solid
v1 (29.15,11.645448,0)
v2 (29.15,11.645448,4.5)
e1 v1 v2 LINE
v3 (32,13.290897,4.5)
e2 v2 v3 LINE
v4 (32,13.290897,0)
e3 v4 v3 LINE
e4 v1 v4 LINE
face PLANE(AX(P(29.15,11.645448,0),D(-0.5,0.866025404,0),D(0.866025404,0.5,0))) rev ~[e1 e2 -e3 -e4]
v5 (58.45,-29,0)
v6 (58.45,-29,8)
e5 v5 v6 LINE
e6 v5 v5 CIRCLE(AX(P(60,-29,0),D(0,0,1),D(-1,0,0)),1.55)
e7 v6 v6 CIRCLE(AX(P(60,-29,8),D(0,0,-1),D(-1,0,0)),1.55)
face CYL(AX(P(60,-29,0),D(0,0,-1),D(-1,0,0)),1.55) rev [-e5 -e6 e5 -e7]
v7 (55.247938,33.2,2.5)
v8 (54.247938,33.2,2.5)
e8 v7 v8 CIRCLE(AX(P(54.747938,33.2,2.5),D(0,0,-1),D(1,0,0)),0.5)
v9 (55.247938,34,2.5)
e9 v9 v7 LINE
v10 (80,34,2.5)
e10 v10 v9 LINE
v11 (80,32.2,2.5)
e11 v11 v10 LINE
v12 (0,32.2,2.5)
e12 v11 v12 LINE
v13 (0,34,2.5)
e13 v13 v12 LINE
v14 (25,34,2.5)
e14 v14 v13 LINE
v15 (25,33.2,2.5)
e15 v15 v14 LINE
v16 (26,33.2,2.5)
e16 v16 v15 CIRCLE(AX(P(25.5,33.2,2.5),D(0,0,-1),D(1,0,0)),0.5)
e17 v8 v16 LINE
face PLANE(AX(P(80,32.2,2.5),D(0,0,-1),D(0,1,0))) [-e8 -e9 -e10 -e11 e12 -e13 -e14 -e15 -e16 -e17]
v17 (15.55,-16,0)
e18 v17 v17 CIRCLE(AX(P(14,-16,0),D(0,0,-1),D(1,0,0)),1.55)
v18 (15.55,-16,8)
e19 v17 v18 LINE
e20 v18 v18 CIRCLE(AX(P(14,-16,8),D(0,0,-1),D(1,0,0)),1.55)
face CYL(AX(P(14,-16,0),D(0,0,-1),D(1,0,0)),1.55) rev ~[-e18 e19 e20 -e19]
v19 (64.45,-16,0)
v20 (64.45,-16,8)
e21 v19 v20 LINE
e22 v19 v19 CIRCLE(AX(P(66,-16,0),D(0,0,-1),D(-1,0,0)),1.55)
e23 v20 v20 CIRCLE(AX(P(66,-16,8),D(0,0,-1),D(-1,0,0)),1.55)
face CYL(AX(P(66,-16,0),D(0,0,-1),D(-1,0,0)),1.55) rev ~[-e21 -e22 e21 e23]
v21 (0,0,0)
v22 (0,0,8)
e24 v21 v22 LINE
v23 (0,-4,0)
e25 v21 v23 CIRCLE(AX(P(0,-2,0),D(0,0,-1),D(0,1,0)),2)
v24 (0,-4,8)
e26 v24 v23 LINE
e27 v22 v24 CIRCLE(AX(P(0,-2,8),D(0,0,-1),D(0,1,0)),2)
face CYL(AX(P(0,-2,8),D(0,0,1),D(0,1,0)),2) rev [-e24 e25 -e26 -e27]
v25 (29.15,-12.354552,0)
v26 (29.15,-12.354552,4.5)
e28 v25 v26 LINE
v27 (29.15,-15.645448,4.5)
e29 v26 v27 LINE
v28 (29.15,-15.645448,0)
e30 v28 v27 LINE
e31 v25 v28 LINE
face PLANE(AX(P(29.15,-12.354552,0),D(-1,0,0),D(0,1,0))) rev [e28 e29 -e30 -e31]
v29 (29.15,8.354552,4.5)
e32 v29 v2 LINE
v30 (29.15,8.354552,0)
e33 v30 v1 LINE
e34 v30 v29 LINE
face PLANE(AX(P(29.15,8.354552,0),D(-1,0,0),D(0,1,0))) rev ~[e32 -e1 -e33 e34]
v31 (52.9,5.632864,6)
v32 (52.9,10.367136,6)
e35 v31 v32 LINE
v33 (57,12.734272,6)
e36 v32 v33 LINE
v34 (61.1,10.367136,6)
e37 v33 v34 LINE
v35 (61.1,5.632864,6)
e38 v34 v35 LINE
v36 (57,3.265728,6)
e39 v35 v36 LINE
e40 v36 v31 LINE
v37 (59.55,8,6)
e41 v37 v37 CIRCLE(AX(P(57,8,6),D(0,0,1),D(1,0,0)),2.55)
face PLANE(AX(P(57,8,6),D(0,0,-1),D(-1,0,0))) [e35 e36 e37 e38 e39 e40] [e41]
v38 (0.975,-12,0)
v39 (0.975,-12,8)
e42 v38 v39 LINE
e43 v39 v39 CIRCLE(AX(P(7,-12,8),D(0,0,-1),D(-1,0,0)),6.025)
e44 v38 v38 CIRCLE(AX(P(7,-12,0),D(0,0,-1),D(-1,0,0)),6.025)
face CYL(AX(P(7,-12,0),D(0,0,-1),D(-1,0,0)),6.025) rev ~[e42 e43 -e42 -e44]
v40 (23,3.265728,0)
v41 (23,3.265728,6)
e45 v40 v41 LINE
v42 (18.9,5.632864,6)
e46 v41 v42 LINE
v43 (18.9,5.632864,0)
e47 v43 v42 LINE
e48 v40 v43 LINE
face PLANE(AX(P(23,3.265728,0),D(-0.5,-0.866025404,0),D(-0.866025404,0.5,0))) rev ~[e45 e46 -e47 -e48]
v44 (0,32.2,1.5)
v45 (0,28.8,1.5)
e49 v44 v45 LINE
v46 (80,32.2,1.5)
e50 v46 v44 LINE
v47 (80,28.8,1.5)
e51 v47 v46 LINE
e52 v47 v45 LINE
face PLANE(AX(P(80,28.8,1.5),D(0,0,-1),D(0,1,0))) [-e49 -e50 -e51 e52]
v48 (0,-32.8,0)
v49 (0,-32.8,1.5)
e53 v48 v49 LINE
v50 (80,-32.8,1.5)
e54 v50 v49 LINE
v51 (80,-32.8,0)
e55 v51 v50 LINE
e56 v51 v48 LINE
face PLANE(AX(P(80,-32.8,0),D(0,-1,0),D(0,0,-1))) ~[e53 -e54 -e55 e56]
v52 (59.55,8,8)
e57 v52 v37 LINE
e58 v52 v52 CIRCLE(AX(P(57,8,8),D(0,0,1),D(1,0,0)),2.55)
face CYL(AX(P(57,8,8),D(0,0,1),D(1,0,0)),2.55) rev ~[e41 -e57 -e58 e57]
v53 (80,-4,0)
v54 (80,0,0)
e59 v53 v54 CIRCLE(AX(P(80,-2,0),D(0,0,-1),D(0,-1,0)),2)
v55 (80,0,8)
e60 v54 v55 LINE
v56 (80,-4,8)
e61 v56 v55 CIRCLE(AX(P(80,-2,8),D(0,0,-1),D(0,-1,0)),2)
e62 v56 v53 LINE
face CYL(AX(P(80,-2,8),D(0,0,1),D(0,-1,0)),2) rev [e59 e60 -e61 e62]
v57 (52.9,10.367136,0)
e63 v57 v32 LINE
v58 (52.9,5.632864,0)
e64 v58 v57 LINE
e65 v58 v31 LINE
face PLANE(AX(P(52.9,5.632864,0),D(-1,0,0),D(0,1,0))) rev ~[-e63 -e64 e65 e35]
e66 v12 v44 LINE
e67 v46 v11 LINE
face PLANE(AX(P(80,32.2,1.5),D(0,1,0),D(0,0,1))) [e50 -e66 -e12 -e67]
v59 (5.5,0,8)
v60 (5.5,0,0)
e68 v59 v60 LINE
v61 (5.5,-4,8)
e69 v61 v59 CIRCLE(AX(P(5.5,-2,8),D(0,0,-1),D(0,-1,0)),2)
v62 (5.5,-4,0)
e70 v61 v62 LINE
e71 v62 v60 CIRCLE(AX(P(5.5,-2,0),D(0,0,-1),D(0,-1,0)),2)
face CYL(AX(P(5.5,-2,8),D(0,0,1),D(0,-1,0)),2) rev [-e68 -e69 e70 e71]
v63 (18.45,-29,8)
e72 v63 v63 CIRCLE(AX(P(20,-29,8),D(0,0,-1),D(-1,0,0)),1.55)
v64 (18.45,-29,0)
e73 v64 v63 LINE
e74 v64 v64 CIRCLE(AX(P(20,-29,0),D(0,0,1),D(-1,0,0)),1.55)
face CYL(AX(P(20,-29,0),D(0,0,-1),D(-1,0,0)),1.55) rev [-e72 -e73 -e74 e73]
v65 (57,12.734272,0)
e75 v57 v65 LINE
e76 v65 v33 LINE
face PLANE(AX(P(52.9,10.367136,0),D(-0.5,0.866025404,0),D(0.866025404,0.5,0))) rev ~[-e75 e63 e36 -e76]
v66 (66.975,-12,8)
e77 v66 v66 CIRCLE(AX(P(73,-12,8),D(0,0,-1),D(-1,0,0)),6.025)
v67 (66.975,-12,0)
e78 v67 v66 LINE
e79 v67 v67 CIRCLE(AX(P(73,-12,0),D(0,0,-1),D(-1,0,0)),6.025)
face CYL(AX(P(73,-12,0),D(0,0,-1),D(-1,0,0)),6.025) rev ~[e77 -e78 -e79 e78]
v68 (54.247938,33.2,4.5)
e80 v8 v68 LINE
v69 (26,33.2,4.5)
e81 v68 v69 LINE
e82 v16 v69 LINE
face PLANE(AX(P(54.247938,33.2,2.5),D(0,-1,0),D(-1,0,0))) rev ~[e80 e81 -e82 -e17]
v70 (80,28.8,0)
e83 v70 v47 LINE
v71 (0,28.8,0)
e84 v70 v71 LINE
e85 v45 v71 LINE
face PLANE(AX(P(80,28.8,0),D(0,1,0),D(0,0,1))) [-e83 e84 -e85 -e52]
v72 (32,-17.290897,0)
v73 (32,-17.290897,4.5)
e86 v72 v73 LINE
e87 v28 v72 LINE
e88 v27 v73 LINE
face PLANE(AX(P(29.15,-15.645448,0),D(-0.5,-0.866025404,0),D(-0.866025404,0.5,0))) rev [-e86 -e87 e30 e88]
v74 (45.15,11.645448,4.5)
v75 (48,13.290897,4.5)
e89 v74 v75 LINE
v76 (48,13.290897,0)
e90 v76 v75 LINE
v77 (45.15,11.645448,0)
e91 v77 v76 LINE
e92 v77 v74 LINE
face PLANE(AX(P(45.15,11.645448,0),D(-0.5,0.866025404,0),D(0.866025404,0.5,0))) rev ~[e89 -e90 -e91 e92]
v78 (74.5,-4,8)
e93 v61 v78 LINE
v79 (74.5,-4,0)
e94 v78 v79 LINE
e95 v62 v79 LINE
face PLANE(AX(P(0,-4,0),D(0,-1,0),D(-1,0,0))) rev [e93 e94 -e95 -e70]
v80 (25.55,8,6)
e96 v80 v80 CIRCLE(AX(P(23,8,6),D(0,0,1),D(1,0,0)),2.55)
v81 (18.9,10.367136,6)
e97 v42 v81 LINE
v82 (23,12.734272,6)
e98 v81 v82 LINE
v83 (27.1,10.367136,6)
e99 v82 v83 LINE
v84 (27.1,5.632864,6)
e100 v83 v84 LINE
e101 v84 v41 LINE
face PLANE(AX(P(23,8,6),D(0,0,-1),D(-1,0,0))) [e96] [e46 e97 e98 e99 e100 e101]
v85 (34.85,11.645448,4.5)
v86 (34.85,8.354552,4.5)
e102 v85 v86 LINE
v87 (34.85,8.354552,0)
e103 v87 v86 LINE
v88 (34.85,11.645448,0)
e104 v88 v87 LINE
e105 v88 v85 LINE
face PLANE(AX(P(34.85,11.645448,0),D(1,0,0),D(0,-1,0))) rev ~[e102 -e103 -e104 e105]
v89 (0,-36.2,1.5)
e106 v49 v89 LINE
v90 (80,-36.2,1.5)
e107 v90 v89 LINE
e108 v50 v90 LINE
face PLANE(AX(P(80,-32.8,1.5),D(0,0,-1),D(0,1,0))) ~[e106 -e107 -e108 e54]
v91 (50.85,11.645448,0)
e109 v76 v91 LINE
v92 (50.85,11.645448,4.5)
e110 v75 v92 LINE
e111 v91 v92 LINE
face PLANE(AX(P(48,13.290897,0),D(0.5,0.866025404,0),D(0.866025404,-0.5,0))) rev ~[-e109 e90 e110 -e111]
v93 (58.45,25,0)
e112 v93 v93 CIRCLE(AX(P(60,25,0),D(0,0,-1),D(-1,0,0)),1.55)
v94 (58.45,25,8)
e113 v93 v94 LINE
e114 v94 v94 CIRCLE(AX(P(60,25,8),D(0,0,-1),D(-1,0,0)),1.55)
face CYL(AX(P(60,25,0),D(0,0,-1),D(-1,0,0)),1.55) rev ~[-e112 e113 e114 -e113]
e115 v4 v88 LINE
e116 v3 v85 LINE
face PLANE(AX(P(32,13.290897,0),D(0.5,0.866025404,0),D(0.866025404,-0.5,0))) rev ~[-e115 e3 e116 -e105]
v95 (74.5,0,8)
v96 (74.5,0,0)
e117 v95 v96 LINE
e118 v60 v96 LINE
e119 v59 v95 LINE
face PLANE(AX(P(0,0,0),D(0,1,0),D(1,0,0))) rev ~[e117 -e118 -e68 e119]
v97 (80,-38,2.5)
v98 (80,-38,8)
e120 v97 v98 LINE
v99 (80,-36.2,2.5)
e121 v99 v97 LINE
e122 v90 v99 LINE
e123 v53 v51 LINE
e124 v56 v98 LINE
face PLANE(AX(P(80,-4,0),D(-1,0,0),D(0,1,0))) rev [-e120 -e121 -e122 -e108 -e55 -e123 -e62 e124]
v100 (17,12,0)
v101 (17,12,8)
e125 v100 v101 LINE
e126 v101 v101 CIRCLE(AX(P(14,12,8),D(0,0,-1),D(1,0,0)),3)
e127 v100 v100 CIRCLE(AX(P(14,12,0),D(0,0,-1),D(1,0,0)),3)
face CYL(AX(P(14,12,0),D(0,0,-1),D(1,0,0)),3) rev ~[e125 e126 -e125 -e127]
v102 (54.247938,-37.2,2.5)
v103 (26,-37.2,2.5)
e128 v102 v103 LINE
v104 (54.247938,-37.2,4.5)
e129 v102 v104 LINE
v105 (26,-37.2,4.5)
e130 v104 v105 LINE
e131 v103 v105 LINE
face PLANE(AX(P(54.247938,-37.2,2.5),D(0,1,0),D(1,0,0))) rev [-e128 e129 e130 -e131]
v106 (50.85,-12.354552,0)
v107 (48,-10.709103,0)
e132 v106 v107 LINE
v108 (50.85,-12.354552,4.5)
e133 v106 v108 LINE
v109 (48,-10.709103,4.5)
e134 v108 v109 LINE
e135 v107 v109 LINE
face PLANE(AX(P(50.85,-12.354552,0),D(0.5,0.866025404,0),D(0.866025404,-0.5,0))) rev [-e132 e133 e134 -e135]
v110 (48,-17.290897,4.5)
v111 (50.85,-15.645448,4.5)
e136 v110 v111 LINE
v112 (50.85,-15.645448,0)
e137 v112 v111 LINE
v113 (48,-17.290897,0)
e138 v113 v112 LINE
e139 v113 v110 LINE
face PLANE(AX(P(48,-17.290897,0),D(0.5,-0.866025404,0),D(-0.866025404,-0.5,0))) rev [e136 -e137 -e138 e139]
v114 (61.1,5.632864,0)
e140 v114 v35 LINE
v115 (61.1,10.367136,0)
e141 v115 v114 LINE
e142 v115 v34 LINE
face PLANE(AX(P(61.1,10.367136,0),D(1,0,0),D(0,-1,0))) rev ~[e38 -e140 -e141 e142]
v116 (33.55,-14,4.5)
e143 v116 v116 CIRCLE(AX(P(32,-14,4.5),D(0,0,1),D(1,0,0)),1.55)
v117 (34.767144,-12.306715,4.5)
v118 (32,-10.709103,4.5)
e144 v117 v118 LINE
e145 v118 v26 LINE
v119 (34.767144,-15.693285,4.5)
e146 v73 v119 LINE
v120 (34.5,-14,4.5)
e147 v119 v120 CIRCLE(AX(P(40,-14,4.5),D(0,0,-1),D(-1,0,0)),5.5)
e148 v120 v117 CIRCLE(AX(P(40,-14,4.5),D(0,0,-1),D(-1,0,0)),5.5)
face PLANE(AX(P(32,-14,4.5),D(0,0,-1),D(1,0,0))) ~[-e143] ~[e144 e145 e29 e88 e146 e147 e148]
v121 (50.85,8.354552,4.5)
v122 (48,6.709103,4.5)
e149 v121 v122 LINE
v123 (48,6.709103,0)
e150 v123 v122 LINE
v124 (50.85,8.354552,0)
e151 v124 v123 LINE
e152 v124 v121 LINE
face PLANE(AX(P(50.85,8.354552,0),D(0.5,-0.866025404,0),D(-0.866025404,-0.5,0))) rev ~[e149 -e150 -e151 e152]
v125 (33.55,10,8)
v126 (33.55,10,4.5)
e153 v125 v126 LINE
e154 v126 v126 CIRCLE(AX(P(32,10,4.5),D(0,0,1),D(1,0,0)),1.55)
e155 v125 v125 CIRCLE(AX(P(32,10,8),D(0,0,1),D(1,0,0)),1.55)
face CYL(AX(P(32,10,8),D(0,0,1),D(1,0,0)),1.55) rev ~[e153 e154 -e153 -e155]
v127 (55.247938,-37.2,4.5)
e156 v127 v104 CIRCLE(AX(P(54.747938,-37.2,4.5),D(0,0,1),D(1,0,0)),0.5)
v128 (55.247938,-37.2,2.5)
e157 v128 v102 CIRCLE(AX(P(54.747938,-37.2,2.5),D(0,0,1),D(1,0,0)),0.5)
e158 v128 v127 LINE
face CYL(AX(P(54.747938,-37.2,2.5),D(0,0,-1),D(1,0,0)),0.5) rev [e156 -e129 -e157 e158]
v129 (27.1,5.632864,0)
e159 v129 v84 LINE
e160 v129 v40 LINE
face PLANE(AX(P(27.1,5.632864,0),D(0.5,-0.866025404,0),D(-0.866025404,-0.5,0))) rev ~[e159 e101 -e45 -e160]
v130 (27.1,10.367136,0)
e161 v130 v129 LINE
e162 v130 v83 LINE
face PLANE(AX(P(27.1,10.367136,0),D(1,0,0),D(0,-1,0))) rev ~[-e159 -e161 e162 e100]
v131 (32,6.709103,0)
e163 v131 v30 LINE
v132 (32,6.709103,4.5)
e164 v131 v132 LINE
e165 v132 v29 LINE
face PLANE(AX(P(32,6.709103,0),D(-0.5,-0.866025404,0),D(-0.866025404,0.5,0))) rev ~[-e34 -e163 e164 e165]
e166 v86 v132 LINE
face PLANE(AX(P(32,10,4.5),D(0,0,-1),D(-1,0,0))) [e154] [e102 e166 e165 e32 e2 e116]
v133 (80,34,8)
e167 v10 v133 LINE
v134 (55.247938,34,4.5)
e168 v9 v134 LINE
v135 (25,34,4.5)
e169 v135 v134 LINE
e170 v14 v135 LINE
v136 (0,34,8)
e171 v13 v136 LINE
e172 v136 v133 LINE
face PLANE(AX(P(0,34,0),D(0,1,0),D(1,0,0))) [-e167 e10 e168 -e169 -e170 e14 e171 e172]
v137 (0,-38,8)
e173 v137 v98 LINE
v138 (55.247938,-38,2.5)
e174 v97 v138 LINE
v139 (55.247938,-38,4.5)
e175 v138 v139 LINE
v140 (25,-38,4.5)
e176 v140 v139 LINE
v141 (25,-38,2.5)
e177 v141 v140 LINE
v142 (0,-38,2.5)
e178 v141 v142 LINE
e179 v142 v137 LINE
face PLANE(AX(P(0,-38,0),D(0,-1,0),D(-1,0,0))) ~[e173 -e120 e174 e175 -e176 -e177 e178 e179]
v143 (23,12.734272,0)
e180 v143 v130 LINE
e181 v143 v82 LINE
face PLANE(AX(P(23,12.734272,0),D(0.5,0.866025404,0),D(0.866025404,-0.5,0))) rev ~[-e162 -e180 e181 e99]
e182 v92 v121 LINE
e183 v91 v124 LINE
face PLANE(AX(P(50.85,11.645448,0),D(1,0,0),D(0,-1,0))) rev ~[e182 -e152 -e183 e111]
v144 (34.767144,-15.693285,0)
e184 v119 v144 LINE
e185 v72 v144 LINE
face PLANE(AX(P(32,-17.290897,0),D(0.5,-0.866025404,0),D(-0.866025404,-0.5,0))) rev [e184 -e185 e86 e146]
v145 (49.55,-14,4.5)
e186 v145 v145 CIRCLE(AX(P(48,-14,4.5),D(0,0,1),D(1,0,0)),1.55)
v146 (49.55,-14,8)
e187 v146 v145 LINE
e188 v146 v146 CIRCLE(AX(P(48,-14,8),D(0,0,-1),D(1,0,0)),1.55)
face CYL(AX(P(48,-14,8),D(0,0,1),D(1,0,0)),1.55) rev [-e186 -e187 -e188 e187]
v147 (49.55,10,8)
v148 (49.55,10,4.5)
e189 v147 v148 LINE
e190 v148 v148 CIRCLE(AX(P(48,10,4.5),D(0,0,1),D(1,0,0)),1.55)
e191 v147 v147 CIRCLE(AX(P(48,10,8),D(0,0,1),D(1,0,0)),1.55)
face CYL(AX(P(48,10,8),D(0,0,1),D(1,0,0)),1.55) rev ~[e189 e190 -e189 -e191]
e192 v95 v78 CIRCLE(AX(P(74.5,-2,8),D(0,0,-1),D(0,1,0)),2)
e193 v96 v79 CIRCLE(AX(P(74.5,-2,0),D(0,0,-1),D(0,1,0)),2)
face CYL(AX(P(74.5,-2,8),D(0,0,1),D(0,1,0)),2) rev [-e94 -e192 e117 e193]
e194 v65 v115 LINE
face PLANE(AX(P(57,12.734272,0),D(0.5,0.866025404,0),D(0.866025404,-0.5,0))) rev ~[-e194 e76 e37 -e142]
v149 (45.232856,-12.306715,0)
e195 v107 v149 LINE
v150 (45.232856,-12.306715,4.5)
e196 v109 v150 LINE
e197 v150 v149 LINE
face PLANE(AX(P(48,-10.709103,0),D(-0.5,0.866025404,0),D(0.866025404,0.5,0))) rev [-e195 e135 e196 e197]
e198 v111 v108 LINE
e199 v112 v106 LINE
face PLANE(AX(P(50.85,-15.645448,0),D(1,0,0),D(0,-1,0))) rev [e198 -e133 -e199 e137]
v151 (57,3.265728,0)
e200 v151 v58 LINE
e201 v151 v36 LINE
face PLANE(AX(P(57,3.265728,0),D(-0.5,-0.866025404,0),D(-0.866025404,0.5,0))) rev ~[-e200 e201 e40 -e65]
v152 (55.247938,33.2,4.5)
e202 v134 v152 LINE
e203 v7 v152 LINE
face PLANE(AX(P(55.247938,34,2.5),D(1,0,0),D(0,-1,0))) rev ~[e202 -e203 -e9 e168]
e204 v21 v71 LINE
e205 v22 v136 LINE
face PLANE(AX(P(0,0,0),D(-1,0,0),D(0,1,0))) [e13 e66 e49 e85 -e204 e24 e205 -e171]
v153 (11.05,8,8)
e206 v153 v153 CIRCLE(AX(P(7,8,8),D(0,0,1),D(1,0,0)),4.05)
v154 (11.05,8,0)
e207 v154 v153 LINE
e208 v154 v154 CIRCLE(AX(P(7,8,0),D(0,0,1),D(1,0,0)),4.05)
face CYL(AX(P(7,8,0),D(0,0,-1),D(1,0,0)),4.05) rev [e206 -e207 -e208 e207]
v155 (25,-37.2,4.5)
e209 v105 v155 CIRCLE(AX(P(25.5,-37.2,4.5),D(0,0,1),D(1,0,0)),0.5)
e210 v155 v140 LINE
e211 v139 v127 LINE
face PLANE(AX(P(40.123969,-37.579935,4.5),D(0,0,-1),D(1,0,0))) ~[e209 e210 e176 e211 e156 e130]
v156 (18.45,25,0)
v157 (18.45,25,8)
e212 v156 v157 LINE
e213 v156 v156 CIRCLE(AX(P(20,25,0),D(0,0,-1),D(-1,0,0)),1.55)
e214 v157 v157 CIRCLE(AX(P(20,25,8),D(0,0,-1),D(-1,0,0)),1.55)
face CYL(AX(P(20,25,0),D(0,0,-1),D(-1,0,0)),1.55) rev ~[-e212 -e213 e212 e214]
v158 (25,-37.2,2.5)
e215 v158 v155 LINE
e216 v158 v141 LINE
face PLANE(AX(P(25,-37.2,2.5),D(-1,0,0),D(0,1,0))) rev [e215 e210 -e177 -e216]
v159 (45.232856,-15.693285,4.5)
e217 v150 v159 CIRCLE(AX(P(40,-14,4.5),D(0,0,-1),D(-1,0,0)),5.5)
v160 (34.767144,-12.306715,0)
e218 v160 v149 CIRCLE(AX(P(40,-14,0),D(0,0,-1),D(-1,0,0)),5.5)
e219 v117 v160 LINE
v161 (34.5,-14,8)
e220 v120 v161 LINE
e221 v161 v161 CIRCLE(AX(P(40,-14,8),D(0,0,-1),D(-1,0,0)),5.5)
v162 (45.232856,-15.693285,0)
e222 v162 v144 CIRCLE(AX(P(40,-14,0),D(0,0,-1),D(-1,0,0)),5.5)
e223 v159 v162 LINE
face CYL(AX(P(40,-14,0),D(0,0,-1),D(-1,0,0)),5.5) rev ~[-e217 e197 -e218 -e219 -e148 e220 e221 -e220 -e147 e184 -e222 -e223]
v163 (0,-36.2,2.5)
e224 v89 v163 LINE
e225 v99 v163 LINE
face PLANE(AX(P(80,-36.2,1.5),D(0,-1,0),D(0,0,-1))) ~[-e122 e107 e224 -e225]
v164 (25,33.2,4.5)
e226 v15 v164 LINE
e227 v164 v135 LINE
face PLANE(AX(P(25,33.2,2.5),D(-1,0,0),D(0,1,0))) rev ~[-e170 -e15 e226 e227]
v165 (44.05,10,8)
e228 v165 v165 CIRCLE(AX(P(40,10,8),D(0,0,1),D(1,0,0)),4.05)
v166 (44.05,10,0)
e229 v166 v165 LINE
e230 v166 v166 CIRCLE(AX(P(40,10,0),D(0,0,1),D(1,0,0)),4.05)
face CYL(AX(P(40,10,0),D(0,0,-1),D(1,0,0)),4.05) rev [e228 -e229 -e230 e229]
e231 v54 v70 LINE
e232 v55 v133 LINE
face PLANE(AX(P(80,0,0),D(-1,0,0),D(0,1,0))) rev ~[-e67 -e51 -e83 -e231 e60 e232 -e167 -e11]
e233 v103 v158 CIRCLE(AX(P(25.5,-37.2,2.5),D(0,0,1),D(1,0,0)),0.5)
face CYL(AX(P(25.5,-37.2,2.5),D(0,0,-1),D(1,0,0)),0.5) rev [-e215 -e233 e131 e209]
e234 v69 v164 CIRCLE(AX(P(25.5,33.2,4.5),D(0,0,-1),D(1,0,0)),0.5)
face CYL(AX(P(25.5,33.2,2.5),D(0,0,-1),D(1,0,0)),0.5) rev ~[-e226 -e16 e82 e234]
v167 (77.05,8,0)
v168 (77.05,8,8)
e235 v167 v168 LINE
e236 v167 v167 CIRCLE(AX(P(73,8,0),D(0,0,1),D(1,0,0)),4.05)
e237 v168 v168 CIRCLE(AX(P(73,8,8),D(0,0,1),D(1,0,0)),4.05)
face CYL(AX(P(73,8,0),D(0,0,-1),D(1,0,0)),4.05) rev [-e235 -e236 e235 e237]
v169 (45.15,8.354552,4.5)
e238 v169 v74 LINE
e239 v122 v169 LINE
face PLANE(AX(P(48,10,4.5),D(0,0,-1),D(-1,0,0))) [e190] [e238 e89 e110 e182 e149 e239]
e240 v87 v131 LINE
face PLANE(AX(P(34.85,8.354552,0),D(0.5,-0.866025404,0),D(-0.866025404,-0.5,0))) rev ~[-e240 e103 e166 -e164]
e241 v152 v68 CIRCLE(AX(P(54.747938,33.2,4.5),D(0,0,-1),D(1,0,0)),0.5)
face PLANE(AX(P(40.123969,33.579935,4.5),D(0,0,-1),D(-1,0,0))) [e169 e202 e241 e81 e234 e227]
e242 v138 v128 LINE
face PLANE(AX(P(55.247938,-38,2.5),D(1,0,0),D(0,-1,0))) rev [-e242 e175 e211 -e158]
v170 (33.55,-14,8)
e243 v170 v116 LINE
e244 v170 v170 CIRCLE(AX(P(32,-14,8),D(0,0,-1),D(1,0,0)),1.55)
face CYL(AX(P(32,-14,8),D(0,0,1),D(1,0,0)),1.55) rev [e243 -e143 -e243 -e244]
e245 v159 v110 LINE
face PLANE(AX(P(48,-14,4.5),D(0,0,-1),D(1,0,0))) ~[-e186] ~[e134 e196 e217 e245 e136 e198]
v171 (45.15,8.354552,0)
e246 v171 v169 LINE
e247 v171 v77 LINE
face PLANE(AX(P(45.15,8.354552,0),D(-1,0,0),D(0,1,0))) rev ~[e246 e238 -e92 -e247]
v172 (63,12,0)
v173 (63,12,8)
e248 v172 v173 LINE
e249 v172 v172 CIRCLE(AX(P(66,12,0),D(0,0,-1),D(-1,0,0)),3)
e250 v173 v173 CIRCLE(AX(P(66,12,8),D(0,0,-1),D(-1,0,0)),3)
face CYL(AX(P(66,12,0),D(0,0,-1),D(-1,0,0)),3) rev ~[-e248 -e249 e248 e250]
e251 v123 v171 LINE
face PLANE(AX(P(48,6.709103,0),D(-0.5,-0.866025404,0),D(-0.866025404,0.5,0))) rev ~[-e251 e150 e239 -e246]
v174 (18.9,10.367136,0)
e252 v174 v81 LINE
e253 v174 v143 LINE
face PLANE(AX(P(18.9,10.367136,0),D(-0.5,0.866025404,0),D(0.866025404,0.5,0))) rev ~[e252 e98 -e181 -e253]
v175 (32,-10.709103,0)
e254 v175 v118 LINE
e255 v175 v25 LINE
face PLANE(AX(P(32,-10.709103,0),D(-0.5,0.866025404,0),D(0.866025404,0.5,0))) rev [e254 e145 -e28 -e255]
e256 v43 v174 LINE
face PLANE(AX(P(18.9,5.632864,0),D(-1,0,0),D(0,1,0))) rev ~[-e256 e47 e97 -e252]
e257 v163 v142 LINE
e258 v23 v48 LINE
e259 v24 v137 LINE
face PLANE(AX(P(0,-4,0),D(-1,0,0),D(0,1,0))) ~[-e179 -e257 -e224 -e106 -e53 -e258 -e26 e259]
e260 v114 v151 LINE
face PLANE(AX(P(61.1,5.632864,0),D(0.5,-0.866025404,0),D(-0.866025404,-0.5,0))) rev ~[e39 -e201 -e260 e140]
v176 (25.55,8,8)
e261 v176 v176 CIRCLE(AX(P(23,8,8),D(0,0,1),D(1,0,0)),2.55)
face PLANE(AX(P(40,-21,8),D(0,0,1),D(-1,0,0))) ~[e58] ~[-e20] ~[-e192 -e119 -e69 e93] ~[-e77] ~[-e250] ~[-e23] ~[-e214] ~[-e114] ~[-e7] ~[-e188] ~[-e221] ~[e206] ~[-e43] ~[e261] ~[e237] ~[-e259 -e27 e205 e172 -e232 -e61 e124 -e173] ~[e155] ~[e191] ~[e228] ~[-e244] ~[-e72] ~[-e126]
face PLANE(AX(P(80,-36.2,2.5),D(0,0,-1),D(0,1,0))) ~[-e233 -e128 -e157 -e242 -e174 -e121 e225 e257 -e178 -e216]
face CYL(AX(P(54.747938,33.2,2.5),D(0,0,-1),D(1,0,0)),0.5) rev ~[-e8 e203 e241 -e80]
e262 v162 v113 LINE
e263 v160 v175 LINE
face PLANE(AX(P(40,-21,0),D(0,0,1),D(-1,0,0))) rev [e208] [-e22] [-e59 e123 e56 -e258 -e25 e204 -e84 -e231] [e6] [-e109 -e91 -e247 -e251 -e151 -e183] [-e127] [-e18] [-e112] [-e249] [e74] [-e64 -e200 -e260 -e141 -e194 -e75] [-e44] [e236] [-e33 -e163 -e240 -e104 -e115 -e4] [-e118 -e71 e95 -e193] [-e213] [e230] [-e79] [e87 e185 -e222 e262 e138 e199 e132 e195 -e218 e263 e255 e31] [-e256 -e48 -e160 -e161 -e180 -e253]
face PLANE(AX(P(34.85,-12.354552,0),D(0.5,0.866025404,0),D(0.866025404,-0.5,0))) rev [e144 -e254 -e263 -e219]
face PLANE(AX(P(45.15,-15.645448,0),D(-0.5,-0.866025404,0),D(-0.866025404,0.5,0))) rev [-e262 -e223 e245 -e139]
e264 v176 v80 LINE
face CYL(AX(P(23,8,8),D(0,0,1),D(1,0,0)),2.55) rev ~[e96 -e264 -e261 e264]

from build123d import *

# Parameters (mm, degrees)
SKETCH_2_W           = 80
SKETCH_2_H           = 34
SKETCH_2_R           = 4.05
EXTRUDE_1_DEPTH      = 8
SKETCH_3_R           = 2.55
CUT_EXTRUDE_1_DEPTH  = 88.292611371
CUT_EXTRUDE_2_DEPTH  = 88.292611371
SKETCH_5_R           = 1.55
CUT_EXTRUDE_3_DEPTH  = 88.292611371
CUT_EXTRUDE_5_DEPTH  = 4.5
SKETCH_25_R          = 1.55
CUT_EXTRUDE_13_DEPTH = 88.292611371
CUT_EXTRUDE_11_DEPTH = 2
EXTRUDE_2_DEPTH      = 8
SKETCH_26_R          = 6.025
CUT_EXTRUDE_14_DEPTH = 89.926936302
SKETCH_27_R          = 3
SKETCH_27_R_2        = 1.55
CUT_EXTRUDE_15_DEPTH = 89.926936302
CUT_EXTRUDE_16_DEPTH = 6
SKETCH_29_R          = 5.5
CUT_EXTRUDE_17_DEPTH = 89.926936302


with BuildPart() as part:
    # 草图2 → 凸台-拉伸1 (new body)
    with BuildSketch(Plane.XY):
        with Locations((40, 17)):
            Rectangle(SKETCH_2_W, SKETCH_2_H)
        with Locations((7, 8)):
            Circle(SKETCH_2_R, mode=Mode.SUBTRACT)
        with Locations((40, 10)):
            Circle(SKETCH_2_R, mode=Mode.SUBTRACT)
        with Locations((73, 8)):
            Circle(SKETCH_2_R, mode=Mode.SUBTRACT)
    extrude_1 = extrude(amount=EXTRUDE_1_DEPTH)

    # 草图3 → 切除-拉伸1 (cut, through all)
    with BuildSketch(Plane.XY.offset(8)):
        with Locations((23, 8)):
            Circle(SKETCH_3_R)
        with Locations((57, 8)):
            Circle(SKETCH_3_R)
    extrude(amount=-CUT_EXTRUDE_1_DEPTH, mode=Mode.SUBTRACT)

    # 草图4 → 切除-拉伸2 (cut, through all)
    with BuildSketch(Plane(origin=(80, 0, 0), x_dir=(0, 0, -1), z_dir=(1, 0, 0))):
        Polygon((-1.5, 32.2), (-2.5, 32.2), (-2.5, 34), (0, 34), (0, 28.8), (-1.5, 28.8), align=None)
    cut_extrude_2 = extrude(amount=-CUT_EXTRUDE_2_DEPTH, mode=Mode.SUBTRACT)

    # 草图5 → 切除-拉伸3 (cut, through all)
    with BuildSketch(Plane.XY.offset(8)):
        with Locations((48, 10)):
            Circle(SKETCH_5_R)
        with Locations((32, 10)):
            Circle(SKETCH_5_R)
    cut_extrude_3 = extrude(amount=-CUT_EXTRUDE_3_DEPTH, mode=Mode.SUBTRACT)

    # 草图8 → 切除-拉伸5 (cut)
    with BuildSketch(Plane(origin=(0, 0, 0), x_dir=(-1, 0, 0), z_dir=(0, 0, -1))):
        Polygon((-45.15, 8.354551733), (-45.15, 11.645448267), (-48, 13.290896534), (-50.85, 11.645448267), (-50.85, 8.354551733), (-48, 6.709103466), align=None)
        Polygon((-29.15, 8.354551733), (-29.15, 11.645448267), (-32, 13.290896534), (-34.85, 11.645448267), (-34.85, 8.354551733), (-32, 6.709103466), align=None)
    cut_extrude_5 = extrude(amount=-CUT_EXTRUDE_5_DEPTH, mode=Mode.SUBTRACT)

    # 草图25 → 切除-拉伸13 (cut, through all)
    with BuildSketch(Plane(origin=(0, 0, 0), x_dir=(-1, 0, 0), z_dir=(0, 0, -1))):
        with Locations((-60, 25)):
            Circle(SKETCH_25_R)
        with Locations((-20, 25)):
            Circle(SKETCH_25_R)
    cut_extrude_13 = extrude(amount=-CUT_EXTRUDE_13_DEPTH, mode=Mode.SUBTRACT)

    # 草图19 → 切除-拉伸11 (cut)
    with BuildSketch(Plane(origin=(0, 0, 2.5), x_dir=(-1, 0, 0), z_dir=(0, 0, -1))):
        with BuildLine():
            Line((-25, 34), (-55.247938178, 34))
            Line((-55.247938178, 34), (-55.247938178, 33.2))
            ThreePointArc((-55.247938178, 33.2), (-54.747938178, 32.7), (-54.247938178, 33.2))
            Line((-54.247938178, 33.2), (-26, 33.2))
            ThreePointArc((-26, 33.2), (-25.5, 32.7), (-25, 33.2))
            Line((-25, 33.2), (-25, 34))
        make_face()
    cut_extrude_11 = extrude(amount=-CUT_EXTRUDE_11_DEPTH, mode=Mode.SUBTRACT)

    # 草图22 → 凸台-拉伸2 (add)
    with BuildSketch(Plane.XY.offset(8)):
        with BuildLine():
            Line((0, -4), (5.5, -4))
            ThreePointArc((5.5, -4), (3.5, -2), (5.5, 0))
            Line((5.5, 0), (0, 0))
            ThreePointArc((0, 0), (2, -2), (0, -4))
        make_face()
        with BuildLine():
            Line((80, 0), (74.5, 0))
            ThreePointArc((74.5, 0), (76.5, -2), (74.5, -4))
            Line((74.5, -4), (80, -4))
            ThreePointArc((80, -4), (78, -2), (80, 0))
        make_face()
    extrude(amount=-EXTRUDE_2_DEPTH)

    # 镜向2: 凸台-拉伸1, 切除-拉伸2, 切除-拉伸3, 切除-拉伸5, 切除-拉伸13, 切除-拉伸11 across plane
    add(extrude_1.mirror(Plane(origin=(0, -2, 0), x_dir=(0, 0, 1), z_dir=(0, -1, 0))))
    add(cut_extrude_2.mirror(Plane(origin=(0, -2, 0), x_dir=(0, 0, 1), z_dir=(0, -1, 0))), mode=Mode.SUBTRACT)
    add(cut_extrude_3.mirror(Plane(origin=(0, -2, 0), x_dir=(0, 0, 1), z_dir=(0, -1, 0))), mode=Mode.SUBTRACT)
    add(cut_extrude_5.mirror(Plane(origin=(0, -2, 0), x_dir=(0, 0, 1), z_dir=(0, -1, 0))), mode=Mode.SUBTRACT)
    add(cut_extrude_13.mirror(Plane(origin=(0, -2, 0), x_dir=(0, 0, 1), z_dir=(0, -1, 0))), mode=Mode.SUBTRACT)
    add(cut_extrude_11.mirror(Plane(origin=(0, -2, 0), x_dir=(0, 0, 1), z_dir=(0, -1, 0))), mode=Mode.SUBTRACT)

    # 草图26 → 切除-拉伸14 (cut, through all)
    with BuildSketch(Plane(origin=(0, 0, 0), x_dir=(-1, 0, 0), z_dir=(0, 0, -1))):
        with Locations((-73, -12)):
            Circle(SKETCH_26_R)
        with Locations((-7, -12)):
            Circle(SKETCH_26_R)
    extrude(amount=-CUT_EXTRUDE_14_DEPTH, mode=Mode.SUBTRACT)

    # 草图27 → 切除-拉伸15 (cut, through all)
    with BuildSketch(Plane(origin=(0, 0, 0), x_dir=(-1, 0, 0), z_dir=(0, 0, -1))):
        with Locations((-66, 12)):
            Circle(SKETCH_27_R)
        with Locations((-66, -16)):
            Circle(SKETCH_27_R_2)
        with Locations((-14, -16)):
            Circle(SKETCH_27_R_2)
        with Locations((-14, 12)):
            Circle(SKETCH_27_R)
    extrude(amount=-CUT_EXTRUDE_15_DEPTH, mode=Mode.SUBTRACT)

    # 草图28 → 切除-拉伸16 (cut)
    with BuildSketch(Plane(origin=(0, 0, 0), x_dir=(-1, 0, 0), z_dir=(0, 0, -1))):
        Polygon((-52.9, 5.632863896), (-52.9, 10.367136104), (-57, 12.734272207), (-61.1, 10.367136104), (-61.1, 5.632863896), (-57, 3.265727793), align=None)
        Polygon((-18.9, 5.632863896), (-18.9, 10.367136104), (-23, 12.734272207), (-27.1, 10.367136104), (-27.1, 5.632863896), (-23, 3.265727793), align=None)
    extrude(amount=-CUT_EXTRUDE_16_DEPTH, mode=Mode.SUBTRACT)

    # 草图29 → 切除-拉伸17 (cut, through all)
    with BuildSketch(Plane(origin=(0, 0, 0), x_dir=(-1, 0, 0), z_dir=(0, 0, -1))):
        with Locations((-40, -14)):
            Circle(SKETCH_29_R)
    extrude(amount=-CUT_EXTRUDE_17_DEPTH, mode=Mode.SUBTRACT)


solid = part.part
